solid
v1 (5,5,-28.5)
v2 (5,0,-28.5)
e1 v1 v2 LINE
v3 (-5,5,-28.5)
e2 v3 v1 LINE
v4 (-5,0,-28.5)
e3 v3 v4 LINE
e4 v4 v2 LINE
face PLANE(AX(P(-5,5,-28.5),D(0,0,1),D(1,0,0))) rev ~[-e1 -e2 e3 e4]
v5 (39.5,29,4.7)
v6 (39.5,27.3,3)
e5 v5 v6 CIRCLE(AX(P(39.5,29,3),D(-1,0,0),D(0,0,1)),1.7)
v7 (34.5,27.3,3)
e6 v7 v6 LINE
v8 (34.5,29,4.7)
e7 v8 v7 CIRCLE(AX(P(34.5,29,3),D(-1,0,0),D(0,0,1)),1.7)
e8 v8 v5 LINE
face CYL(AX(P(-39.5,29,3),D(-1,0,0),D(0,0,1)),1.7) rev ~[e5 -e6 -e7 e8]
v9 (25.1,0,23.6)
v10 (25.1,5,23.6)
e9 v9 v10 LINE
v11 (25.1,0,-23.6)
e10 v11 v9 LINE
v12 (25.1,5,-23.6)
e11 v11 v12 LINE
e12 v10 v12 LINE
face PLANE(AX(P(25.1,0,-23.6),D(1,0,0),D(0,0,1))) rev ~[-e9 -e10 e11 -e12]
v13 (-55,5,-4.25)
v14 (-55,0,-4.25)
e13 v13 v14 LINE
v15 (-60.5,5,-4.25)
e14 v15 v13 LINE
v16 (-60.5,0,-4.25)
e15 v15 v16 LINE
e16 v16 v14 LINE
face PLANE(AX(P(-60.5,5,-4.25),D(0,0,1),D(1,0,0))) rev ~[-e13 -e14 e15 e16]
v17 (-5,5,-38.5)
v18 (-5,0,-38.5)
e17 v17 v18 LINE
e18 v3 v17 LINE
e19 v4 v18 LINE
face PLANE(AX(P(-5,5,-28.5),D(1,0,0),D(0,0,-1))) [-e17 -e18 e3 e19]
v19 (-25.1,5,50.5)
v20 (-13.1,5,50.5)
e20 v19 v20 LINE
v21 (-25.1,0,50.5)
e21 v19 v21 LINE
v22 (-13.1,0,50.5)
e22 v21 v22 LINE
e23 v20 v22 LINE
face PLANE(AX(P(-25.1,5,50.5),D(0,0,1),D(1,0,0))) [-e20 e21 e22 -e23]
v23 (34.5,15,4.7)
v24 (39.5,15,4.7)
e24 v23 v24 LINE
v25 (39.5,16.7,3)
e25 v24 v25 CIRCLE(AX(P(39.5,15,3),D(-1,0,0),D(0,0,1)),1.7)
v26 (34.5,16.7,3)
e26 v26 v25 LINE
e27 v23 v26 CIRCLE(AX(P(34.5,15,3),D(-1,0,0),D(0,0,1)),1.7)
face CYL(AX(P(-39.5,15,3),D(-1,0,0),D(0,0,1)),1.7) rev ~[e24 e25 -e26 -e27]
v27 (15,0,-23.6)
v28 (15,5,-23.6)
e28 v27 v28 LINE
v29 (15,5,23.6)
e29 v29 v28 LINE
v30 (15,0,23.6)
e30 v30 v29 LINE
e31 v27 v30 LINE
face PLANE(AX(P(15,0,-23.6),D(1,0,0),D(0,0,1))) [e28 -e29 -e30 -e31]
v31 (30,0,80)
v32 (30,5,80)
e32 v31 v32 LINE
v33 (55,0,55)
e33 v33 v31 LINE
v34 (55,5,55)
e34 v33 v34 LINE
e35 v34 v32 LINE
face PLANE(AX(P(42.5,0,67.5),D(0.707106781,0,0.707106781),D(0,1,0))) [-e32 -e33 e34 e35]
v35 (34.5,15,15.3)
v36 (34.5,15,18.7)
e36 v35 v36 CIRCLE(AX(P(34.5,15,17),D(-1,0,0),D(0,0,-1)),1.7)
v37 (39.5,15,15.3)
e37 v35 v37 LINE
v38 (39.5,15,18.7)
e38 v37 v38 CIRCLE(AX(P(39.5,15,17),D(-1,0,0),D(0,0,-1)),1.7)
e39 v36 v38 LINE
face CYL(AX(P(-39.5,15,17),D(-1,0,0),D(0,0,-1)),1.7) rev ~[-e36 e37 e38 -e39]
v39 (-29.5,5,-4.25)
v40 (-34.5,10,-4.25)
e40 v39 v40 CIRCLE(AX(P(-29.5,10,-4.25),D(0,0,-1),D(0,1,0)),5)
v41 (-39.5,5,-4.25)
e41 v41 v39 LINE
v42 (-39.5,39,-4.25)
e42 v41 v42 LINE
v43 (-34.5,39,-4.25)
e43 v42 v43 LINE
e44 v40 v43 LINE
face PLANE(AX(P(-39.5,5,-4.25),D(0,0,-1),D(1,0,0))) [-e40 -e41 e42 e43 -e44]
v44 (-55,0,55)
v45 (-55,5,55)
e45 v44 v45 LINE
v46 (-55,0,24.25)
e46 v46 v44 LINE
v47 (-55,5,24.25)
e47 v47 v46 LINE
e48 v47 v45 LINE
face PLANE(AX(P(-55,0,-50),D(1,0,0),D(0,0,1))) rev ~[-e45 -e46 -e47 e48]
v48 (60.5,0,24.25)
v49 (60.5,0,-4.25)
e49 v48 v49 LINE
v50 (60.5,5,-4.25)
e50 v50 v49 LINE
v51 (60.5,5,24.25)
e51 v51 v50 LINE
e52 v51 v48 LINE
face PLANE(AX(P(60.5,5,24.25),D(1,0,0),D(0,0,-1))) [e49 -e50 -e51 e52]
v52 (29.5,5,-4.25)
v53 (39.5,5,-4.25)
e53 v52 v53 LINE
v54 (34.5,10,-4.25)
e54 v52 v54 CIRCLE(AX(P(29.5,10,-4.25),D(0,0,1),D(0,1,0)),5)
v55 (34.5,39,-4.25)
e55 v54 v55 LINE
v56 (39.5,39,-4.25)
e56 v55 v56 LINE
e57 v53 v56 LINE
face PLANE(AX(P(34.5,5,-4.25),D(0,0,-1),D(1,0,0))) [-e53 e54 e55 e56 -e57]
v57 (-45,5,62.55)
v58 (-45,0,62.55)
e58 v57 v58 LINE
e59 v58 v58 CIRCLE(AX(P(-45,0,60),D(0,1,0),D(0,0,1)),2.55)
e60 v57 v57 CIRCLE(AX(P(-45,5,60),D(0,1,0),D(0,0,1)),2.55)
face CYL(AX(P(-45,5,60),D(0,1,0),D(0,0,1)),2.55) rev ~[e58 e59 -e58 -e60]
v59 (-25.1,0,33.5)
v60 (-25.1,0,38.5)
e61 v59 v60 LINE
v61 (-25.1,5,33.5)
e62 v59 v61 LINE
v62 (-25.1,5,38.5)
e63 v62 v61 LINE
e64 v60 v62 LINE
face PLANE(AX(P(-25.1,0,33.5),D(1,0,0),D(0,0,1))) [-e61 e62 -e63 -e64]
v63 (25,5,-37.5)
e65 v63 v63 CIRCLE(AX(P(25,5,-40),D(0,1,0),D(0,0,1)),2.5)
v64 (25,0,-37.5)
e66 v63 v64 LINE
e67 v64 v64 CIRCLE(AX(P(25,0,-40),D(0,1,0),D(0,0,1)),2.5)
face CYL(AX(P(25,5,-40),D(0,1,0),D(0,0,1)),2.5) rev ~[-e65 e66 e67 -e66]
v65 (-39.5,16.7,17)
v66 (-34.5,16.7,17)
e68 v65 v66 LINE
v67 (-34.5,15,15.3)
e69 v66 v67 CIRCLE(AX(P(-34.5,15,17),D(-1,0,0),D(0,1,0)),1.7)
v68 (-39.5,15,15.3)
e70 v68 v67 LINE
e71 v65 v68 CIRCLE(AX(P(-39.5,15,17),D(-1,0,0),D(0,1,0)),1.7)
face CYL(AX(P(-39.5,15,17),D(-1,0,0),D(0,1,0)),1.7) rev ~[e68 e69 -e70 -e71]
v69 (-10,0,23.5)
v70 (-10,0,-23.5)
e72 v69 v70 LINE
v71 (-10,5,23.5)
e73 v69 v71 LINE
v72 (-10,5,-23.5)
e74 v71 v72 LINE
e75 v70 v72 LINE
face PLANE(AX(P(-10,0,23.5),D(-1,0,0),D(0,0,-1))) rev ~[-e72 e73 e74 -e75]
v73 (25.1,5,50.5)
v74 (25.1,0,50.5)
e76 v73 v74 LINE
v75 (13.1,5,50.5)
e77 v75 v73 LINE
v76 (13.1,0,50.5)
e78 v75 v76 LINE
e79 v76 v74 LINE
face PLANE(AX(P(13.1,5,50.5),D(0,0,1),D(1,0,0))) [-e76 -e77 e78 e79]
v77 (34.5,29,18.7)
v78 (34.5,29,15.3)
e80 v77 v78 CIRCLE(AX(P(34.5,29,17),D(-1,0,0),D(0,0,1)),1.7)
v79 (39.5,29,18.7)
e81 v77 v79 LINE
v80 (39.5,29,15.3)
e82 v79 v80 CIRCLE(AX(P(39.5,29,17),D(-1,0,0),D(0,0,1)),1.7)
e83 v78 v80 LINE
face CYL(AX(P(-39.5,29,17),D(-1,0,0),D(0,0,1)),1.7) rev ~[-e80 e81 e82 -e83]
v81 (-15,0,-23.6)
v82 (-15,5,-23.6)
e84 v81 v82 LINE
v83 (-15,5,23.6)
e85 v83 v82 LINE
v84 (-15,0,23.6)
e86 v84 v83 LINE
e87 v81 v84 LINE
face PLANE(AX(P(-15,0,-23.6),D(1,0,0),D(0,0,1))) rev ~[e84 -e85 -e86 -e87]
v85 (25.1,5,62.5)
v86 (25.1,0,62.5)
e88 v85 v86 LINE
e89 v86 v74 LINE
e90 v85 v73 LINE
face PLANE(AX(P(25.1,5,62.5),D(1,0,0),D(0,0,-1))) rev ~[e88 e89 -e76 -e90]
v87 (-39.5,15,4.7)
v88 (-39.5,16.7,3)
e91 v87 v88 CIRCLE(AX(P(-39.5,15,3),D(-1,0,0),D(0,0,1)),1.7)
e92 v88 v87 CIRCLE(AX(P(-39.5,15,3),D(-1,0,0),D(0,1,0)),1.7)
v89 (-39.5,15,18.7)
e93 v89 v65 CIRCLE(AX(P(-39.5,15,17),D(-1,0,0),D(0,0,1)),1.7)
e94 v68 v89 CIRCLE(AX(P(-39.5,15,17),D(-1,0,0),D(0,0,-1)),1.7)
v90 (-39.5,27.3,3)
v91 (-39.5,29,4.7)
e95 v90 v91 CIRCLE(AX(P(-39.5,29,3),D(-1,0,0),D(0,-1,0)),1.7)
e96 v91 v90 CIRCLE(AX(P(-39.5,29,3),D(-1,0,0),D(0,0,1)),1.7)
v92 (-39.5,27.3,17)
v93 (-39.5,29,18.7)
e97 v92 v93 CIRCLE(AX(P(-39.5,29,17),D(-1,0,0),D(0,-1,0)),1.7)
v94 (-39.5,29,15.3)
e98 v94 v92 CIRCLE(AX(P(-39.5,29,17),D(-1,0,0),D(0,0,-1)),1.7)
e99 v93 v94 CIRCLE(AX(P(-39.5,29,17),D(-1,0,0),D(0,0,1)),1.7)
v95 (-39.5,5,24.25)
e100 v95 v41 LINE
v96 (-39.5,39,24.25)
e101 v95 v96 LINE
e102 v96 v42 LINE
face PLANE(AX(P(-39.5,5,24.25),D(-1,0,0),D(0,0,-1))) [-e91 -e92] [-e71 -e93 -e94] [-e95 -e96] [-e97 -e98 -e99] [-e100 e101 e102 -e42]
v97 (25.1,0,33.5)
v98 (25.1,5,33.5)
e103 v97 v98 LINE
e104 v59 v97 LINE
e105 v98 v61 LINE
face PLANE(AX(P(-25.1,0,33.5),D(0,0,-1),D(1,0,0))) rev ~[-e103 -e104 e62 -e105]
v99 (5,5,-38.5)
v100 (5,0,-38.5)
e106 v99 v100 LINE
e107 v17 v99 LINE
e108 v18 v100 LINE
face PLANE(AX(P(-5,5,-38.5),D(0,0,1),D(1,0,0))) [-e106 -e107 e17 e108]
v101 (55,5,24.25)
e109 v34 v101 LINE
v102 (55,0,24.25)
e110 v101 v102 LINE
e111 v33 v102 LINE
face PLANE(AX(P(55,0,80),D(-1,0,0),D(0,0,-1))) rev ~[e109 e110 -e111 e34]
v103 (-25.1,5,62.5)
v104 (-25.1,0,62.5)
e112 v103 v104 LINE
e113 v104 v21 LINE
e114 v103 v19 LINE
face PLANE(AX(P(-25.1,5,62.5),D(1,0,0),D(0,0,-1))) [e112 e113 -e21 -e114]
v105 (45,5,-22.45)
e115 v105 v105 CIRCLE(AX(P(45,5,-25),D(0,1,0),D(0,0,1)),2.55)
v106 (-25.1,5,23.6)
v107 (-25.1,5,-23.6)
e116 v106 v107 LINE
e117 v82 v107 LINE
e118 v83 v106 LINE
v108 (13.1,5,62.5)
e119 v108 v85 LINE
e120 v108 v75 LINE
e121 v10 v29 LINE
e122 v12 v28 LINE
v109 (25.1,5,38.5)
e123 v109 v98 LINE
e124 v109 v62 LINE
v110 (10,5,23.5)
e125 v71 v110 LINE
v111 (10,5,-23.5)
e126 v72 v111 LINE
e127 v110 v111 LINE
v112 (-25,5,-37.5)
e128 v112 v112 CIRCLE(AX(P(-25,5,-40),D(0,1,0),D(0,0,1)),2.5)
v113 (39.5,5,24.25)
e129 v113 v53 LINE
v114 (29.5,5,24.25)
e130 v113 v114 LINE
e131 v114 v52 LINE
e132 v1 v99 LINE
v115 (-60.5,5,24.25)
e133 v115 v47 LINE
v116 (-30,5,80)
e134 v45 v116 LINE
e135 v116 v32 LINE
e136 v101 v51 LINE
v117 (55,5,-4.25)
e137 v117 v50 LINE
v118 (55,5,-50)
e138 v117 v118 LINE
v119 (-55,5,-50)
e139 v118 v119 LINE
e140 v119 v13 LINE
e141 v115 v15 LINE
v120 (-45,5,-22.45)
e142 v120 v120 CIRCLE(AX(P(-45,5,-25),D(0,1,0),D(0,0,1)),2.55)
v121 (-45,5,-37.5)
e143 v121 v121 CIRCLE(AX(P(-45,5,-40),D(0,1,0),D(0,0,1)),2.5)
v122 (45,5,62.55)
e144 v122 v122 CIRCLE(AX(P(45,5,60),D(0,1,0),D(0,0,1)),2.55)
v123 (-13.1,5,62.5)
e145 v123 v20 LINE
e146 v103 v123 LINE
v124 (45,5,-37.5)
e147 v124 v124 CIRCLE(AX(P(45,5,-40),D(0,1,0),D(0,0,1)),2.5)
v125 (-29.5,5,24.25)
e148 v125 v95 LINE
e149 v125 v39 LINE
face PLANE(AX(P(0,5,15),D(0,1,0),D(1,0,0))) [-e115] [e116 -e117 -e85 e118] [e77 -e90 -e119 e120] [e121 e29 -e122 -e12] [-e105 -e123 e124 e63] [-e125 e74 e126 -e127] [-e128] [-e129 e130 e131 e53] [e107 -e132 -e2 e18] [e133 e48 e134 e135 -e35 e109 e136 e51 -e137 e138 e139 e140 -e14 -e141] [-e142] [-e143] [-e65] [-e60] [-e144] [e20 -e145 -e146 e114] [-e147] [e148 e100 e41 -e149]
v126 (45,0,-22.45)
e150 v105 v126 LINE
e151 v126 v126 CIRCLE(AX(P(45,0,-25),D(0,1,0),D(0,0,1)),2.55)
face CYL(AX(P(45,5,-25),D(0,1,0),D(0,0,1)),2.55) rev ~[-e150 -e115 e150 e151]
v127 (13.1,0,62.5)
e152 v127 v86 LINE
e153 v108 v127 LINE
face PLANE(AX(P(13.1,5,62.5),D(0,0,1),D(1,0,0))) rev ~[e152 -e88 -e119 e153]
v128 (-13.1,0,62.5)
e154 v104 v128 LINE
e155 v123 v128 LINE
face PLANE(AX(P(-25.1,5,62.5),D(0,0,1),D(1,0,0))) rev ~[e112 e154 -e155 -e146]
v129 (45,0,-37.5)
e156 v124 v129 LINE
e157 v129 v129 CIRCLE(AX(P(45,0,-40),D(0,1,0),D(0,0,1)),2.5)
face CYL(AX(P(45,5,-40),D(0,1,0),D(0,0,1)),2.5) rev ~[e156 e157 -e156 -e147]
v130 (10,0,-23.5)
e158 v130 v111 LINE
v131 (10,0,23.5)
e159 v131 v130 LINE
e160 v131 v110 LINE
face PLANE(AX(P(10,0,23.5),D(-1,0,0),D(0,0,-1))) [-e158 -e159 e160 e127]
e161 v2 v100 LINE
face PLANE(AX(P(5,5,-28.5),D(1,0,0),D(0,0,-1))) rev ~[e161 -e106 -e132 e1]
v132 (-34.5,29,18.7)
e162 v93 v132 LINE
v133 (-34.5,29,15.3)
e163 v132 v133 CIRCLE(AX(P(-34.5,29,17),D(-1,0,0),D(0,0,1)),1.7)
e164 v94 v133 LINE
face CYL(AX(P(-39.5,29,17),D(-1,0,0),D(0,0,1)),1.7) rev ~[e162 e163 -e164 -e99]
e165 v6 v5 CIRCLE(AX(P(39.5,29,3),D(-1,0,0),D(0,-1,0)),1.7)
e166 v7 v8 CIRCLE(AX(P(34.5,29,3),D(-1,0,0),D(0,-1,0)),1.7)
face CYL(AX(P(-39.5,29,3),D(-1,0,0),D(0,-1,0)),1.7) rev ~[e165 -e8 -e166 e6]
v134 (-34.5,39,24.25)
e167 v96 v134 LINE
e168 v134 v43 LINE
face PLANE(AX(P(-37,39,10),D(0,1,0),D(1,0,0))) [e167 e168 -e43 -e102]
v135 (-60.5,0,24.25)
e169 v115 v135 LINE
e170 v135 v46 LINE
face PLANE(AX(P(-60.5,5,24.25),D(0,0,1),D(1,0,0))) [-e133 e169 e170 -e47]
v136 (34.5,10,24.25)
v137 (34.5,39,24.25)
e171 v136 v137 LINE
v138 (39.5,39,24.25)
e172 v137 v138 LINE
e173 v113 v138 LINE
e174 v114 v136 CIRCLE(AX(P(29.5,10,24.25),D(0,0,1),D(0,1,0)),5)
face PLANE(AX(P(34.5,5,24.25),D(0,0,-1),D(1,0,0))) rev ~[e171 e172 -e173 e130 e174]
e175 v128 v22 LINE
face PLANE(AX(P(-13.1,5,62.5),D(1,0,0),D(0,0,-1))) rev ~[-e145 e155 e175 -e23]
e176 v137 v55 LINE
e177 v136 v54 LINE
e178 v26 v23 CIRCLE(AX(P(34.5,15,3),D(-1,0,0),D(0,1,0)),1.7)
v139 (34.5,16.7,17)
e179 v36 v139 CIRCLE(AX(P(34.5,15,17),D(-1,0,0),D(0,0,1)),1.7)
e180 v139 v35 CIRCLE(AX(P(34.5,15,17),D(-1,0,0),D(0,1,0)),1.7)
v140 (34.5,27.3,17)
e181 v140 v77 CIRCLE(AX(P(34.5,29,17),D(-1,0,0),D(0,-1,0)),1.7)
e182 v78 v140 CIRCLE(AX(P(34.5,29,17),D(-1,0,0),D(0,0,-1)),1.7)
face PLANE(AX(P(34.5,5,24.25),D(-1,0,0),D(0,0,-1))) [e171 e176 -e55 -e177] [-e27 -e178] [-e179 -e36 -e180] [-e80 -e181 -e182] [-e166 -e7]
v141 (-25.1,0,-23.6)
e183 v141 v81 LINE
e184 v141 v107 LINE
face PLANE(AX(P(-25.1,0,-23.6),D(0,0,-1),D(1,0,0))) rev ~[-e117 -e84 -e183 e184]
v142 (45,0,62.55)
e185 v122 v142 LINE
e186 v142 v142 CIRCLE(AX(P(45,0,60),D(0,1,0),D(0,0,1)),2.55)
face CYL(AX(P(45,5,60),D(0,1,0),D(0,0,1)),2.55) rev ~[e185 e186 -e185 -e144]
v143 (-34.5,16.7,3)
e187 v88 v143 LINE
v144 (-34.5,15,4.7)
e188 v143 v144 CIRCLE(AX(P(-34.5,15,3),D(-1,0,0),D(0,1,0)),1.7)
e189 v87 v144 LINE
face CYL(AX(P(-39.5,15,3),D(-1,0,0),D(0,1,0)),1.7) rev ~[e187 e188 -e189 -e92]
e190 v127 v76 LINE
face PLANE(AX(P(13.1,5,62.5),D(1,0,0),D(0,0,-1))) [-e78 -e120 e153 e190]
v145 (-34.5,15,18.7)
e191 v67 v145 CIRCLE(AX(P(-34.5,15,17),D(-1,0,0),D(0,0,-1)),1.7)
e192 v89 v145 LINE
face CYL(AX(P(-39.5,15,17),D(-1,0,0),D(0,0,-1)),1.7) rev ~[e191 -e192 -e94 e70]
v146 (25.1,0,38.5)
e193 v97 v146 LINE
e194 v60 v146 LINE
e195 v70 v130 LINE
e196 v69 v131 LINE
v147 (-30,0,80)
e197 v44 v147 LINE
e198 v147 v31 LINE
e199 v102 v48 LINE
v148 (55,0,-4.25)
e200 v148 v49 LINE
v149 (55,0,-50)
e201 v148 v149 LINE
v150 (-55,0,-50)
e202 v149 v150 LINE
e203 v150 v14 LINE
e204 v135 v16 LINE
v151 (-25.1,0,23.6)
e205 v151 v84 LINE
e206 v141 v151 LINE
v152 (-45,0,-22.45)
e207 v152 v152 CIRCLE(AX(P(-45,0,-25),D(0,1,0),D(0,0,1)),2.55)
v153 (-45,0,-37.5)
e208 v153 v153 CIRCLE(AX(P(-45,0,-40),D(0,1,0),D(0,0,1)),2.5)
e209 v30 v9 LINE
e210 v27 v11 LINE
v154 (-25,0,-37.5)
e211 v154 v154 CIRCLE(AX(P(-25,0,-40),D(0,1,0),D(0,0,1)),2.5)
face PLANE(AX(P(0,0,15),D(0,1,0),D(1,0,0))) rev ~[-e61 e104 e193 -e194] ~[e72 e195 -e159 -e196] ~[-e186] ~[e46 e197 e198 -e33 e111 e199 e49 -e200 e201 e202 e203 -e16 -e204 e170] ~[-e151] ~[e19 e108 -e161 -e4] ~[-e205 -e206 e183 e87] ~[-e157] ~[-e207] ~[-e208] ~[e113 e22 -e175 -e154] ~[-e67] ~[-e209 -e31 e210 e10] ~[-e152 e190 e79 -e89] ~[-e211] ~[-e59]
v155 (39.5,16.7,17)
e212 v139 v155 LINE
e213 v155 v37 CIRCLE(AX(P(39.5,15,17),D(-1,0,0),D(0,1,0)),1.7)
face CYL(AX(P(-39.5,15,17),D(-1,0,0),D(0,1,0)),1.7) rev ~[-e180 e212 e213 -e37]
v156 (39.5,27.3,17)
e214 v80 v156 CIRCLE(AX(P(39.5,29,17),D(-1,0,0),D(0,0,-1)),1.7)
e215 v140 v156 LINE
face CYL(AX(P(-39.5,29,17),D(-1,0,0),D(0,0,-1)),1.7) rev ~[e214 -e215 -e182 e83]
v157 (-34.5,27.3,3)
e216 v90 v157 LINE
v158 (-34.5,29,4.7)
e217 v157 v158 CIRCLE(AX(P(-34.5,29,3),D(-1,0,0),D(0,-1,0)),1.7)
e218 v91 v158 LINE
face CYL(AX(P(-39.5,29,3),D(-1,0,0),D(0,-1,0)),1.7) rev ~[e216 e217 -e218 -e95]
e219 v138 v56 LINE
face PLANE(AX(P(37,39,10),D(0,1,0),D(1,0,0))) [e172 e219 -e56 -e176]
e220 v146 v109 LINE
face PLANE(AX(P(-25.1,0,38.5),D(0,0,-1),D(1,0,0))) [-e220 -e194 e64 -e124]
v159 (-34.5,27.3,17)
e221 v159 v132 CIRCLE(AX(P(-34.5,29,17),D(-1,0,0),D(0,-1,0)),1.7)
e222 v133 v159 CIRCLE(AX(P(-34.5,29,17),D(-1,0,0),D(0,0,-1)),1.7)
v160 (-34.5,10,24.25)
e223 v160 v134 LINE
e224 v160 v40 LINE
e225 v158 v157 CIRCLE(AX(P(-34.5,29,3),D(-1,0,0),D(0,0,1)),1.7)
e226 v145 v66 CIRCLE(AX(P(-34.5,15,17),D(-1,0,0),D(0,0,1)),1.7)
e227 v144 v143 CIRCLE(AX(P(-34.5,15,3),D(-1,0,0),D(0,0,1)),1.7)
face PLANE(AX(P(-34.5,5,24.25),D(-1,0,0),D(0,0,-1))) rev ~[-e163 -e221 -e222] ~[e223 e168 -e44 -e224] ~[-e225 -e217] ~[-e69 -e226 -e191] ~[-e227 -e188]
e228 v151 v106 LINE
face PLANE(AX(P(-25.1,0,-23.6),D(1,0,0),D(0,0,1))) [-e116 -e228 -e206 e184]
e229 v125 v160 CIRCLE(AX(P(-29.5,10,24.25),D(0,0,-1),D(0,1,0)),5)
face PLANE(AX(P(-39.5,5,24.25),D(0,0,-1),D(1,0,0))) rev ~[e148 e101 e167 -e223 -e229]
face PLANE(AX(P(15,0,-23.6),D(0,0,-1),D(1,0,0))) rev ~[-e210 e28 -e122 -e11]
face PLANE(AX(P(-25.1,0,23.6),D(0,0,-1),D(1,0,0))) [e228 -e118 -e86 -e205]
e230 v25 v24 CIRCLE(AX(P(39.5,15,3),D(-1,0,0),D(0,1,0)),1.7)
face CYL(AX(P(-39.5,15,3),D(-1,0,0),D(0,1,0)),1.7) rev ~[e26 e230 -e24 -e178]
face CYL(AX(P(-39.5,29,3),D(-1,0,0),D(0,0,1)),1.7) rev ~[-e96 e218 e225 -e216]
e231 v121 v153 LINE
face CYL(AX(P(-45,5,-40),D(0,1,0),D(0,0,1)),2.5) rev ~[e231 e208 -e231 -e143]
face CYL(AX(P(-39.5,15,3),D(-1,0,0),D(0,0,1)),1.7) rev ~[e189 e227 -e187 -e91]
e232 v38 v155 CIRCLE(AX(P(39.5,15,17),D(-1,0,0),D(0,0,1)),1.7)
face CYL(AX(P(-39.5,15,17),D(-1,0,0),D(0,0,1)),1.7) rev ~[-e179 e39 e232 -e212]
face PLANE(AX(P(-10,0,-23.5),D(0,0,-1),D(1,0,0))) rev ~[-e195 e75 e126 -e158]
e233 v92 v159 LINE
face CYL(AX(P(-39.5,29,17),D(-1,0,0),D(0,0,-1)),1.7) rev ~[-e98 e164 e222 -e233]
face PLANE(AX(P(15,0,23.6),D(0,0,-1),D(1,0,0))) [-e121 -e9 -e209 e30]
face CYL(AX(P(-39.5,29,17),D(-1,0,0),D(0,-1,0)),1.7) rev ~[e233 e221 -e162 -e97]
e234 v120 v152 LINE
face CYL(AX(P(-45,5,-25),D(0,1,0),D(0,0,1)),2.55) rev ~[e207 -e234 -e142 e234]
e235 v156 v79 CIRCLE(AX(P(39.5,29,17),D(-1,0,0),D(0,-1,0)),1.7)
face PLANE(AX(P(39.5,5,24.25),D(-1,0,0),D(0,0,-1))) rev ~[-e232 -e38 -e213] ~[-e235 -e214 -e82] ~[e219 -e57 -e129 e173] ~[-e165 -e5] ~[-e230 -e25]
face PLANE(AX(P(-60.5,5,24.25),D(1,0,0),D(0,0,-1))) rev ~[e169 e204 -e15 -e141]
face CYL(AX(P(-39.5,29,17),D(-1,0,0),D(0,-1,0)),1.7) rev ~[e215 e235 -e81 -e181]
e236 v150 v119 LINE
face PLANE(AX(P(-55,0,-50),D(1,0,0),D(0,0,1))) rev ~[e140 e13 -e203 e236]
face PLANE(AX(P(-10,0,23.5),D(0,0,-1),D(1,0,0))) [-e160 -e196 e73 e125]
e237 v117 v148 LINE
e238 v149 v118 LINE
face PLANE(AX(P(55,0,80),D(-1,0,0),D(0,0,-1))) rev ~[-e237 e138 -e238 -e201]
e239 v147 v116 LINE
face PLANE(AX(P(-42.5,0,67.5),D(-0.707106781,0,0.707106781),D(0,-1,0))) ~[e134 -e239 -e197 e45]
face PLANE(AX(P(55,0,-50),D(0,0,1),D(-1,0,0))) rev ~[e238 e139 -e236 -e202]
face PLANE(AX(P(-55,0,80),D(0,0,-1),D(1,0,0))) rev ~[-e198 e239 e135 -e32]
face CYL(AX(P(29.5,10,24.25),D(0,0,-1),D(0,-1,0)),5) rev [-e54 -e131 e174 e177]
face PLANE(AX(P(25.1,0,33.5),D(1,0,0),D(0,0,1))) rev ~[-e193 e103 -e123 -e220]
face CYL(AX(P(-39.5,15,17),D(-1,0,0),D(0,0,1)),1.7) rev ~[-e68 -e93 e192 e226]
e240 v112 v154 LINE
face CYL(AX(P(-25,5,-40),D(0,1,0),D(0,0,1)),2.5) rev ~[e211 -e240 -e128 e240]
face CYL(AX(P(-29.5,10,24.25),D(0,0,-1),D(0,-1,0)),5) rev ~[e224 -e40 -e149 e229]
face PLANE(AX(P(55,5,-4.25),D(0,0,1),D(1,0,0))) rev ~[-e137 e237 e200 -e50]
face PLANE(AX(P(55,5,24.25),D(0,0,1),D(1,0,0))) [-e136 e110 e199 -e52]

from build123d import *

# Parameters (mm, degrees)
SKETCH1_W           = 20
SKETCH1_H           = 47
BOSS_EXTRUDE3_DEPTH = 5
SKETCH2_W           = 10.1
SKETCH2_H           = 47.2
SKETCH2_W_2         = 50.2
SKETCH2_H_2         = 5
CUT_EXTRUDE1_DEPTH  = 15
SKETCH3_R           = 2.55
CUT_EXTRUDE3_DEPTH  = 10
SKETCH4_W           = 5
SKETCH4_H           = 28.5
BOSS_EXTRUDE4_DEPTH = 34
CUT_EXTRUDE4_DEPTH  = 130.812364588
FILLET1_R           = 5
SKETCH6_W           = 5.5
SKETCH6_H           = 28.5
BOSS_EXTRUDE5_DEPTH = 5
SKETCH9_R           = 2.5
CUT_EXTRUDE7_DEPTH  = 180
CHAMFER1_SIZE       = 25
SKETCH10_W          = 10
SKETCH10_H          = 10
SKETCH10_W_2        = 12
SKETCH10_H_2        = 12
CUT_EXTRUDE8_DEPTH  = 106.906798649


with BuildPart() as part:
    # Sketch1 → Boss-Extrude3 (new body)
    with BuildSketch(Plane(origin=(0, 0, 0), x_dir=(1, 0, 0), z_dir=(0, 1, 0))):
        Polygon((55, 50), (-55, 50), (-55, 21.75), (-55, -21.75), (-55, -80), (-20, -80), (2.5, -80), (20, -80), (42.5, -80), (55, -80), (55, -21.75), (55, 21.75), align=None)
        Rectangle(SKETCH1_W, SKETCH1_H, mode=Mode.SUBTRACT)
    extrude(amount=BOSS_EXTRUDE3_DEPTH)

    # Sketch2 → Cut-Extrude1 (cut)
    with BuildSketch(Plane.XZ):
        with Locations((-20.05, 0)):
            Rectangle(SKETCH2_W, SKETCH2_H)
        with Locations((20.05, 0)):
            Rectangle(SKETCH2_W, SKETCH2_H)
        with Locations((0, 36)):
            Rectangle(SKETCH2_W_2, SKETCH2_H_2)
    extrude(amount=-CUT_EXTRUDE1_DEPTH, mode=Mode.SUBTRACT)

    # Sketch3 → Cut-Extrude3 (cut)
    with BuildSketch(Plane(origin=(0, 5, 0), x_dir=(1, 0, 0), z_dir=(0, 1, 0))):
        with Locations(Location((-45, 25, 0), (0, 0, 270))):
            Circle(SKETCH3_R)
        with Locations(Location((-45, -60, 0), (0, 0, 270))):
            Circle(SKETCH3_R)
        with Locations(Location((45, -60, 0), (0, 0, 270))):
            Circle(SKETCH3_R)
        with Locations(Location((45, 25, 0), (0, 0, 270))):
            Circle(SKETCH3_R)
    extrude(amount=-CUT_EXTRUDE3_DEPTH, mode=Mode.SUBTRACT)

    # Sketch4 → Boss-Extrude4 (add)
    with BuildSketch(Plane(origin=(0, 5, 0), x_dir=(1, 0, 0), z_dir=(0, 1, 0))):
        with Locations((-37, -10)):
            Rectangle(SKETCH4_W, SKETCH4_H)
        with Locations((37, -10)):
            Rectangle(SKETCH4_W, SKETCH4_H)
    extrude(amount=BOSS_EXTRUDE4_DEPTH)

    # Sketch5 → Cut-Extrude4 (cut, through all)
    with BuildSketch(Plane.ZY.offset(39.5)):
        with BuildLine():
            ThreePointArc((4.7, 15), (4.202081528, 16.202081528), (3, 16.7))
            Line((3, 16.7), (3, 15))
            Line((3, 15), (4.7, 15))
        make_face()
        with BuildLine():
            Line((3, 15), (3, 16.7))
            ThreePointArc((3, 16.7), (1.797918472, 13.797918472), (4.7, 15))
            Line((4.7, 15), (3, 15))
        make_face()
        with BuildLine():
            Line((3, 27.3), (3, 29))
            Line((3, 29), (4.7, 29))
            ThreePointArc((4.7, 29), (1.797918472, 30.202081528), (3, 27.3))
        make_face()
        with BuildLine():
            Line((4.7, 29), (3, 29))
            Line((3, 29), (3, 27.3))
            ThreePointArc((3, 27.3), (4.202081528, 27.797918472), (4.7, 29))
        make_face()
        with BuildLine():
            ThreePointArc((18.7, 29), (17, 30.7), (15.3, 29))
            Line((15.3, 29), (17, 29))
            Line((17, 29), (17, 27.3))
            ThreePointArc((17, 27.3), (18.202081528, 27.797918472), (18.7, 29))
        make_face()
        with BuildLine():
            Line((17, 29), (15.3, 29))
            ThreePointArc((15.3, 29), (15.797918472, 27.797918472), (17, 27.3))
            Line((17, 27.3), (17, 29))
        make_face()
        with BuildLine():
            ThreePointArc((18.7, 15), (18.202081528, 16.202081528), (17, 16.7))
            Line((17, 16.7), (17, 15))
            Line((17, 15), (15.3, 15))
            ThreePointArc((15.3, 15), (17, 13.3), (18.7, 15))
        make_face()
        with BuildLine():
            Line((17, 15), (17, 16.7))
            ThreePointArc((17, 16.7), (15.797918472, 16.202081528), (15.3, 15))
            Line((15.3, 15), (17, 15))
        make_face()
    extrude(amount=-CUT_EXTRUDE4_DEPTH, mode=Mode.SUBTRACT)

    # Fillet1
    fillet1_edges = [part.edges().sort_by_distance(p)[0] for p in [
        (-34.5, 5, 10),
        (34.5, 5, 10),
    ]]
    fillet(fillet1_edges, radius=FILLET1_R)

    # Sketch6 → Boss-Extrude5 (add)
    with BuildSketch(Plane(origin=(0, 5, 0), x_dir=(1, 0, 0), z_dir=(0, 1, 0))):
        with Locations((-57.75, -10)):
            Rectangle(SKETCH6_W, SKETCH6_H)
        with Locations((57.75, -10)):
            Rectangle(SKETCH6_W, SKETCH6_H)
    extrude(amount=-BOSS_EXTRUDE5_DEPTH)

    # Sketch9 → Cut-Extrude7 (cut)
    with BuildSketch(Plane(origin=(0, 5, 0), x_dir=(1, 0, 0), z_dir=(0, 1, 0))):
        with Locations(Location((-45, 40, 0), (0, 0, 270))):
            Circle(SKETCH9_R)
        with Locations(Location((45, 40, 0), (0, 0, 270))):
            Circle(SKETCH9_R)
        with Locations(Location((-25, 40, 0), (0, 0, 270))):
            Circle(SKETCH9_R)
        with Locations(Location((25, 40, 0), (0, 0, 270))):
            Circle(SKETCH9_R)
    extrude(amount=-CUT_EXTRUDE7_DEPTH, mode=Mode.SUBTRACT)

    # Chamfer1
    chamfer1_edges = [part.edges().sort_by_distance(p)[0] for p in [
        (55, 2.5, 80),
        (-55, 2.5, 80),
    ]]
    chamfer(chamfer1_edges, length=CHAMFER1_SIZE)

    # Sketch10 → Cut-Extrude8 (cut, through all)
    with BuildSketch(Plane(origin=(0, 5, 0), x_dir=(1, 0, 0), z_dir=(0, 1, 0))):
        with Locations((0, 33.5)):
            Rectangle(SKETCH10_W, SKETCH10_H)
        with Locations((-19.1, -56.5)):
            Rectangle(SKETCH10_W_2, SKETCH10_H_2)
        with Locations((19.1, -56.5)):
            Rectangle(SKETCH10_W_2, SKETCH10_H_2)
    extrude(amount=-CUT_EXTRUDE8_DEPTH, mode=Mode.SUBTRACT)


solid = part.part
